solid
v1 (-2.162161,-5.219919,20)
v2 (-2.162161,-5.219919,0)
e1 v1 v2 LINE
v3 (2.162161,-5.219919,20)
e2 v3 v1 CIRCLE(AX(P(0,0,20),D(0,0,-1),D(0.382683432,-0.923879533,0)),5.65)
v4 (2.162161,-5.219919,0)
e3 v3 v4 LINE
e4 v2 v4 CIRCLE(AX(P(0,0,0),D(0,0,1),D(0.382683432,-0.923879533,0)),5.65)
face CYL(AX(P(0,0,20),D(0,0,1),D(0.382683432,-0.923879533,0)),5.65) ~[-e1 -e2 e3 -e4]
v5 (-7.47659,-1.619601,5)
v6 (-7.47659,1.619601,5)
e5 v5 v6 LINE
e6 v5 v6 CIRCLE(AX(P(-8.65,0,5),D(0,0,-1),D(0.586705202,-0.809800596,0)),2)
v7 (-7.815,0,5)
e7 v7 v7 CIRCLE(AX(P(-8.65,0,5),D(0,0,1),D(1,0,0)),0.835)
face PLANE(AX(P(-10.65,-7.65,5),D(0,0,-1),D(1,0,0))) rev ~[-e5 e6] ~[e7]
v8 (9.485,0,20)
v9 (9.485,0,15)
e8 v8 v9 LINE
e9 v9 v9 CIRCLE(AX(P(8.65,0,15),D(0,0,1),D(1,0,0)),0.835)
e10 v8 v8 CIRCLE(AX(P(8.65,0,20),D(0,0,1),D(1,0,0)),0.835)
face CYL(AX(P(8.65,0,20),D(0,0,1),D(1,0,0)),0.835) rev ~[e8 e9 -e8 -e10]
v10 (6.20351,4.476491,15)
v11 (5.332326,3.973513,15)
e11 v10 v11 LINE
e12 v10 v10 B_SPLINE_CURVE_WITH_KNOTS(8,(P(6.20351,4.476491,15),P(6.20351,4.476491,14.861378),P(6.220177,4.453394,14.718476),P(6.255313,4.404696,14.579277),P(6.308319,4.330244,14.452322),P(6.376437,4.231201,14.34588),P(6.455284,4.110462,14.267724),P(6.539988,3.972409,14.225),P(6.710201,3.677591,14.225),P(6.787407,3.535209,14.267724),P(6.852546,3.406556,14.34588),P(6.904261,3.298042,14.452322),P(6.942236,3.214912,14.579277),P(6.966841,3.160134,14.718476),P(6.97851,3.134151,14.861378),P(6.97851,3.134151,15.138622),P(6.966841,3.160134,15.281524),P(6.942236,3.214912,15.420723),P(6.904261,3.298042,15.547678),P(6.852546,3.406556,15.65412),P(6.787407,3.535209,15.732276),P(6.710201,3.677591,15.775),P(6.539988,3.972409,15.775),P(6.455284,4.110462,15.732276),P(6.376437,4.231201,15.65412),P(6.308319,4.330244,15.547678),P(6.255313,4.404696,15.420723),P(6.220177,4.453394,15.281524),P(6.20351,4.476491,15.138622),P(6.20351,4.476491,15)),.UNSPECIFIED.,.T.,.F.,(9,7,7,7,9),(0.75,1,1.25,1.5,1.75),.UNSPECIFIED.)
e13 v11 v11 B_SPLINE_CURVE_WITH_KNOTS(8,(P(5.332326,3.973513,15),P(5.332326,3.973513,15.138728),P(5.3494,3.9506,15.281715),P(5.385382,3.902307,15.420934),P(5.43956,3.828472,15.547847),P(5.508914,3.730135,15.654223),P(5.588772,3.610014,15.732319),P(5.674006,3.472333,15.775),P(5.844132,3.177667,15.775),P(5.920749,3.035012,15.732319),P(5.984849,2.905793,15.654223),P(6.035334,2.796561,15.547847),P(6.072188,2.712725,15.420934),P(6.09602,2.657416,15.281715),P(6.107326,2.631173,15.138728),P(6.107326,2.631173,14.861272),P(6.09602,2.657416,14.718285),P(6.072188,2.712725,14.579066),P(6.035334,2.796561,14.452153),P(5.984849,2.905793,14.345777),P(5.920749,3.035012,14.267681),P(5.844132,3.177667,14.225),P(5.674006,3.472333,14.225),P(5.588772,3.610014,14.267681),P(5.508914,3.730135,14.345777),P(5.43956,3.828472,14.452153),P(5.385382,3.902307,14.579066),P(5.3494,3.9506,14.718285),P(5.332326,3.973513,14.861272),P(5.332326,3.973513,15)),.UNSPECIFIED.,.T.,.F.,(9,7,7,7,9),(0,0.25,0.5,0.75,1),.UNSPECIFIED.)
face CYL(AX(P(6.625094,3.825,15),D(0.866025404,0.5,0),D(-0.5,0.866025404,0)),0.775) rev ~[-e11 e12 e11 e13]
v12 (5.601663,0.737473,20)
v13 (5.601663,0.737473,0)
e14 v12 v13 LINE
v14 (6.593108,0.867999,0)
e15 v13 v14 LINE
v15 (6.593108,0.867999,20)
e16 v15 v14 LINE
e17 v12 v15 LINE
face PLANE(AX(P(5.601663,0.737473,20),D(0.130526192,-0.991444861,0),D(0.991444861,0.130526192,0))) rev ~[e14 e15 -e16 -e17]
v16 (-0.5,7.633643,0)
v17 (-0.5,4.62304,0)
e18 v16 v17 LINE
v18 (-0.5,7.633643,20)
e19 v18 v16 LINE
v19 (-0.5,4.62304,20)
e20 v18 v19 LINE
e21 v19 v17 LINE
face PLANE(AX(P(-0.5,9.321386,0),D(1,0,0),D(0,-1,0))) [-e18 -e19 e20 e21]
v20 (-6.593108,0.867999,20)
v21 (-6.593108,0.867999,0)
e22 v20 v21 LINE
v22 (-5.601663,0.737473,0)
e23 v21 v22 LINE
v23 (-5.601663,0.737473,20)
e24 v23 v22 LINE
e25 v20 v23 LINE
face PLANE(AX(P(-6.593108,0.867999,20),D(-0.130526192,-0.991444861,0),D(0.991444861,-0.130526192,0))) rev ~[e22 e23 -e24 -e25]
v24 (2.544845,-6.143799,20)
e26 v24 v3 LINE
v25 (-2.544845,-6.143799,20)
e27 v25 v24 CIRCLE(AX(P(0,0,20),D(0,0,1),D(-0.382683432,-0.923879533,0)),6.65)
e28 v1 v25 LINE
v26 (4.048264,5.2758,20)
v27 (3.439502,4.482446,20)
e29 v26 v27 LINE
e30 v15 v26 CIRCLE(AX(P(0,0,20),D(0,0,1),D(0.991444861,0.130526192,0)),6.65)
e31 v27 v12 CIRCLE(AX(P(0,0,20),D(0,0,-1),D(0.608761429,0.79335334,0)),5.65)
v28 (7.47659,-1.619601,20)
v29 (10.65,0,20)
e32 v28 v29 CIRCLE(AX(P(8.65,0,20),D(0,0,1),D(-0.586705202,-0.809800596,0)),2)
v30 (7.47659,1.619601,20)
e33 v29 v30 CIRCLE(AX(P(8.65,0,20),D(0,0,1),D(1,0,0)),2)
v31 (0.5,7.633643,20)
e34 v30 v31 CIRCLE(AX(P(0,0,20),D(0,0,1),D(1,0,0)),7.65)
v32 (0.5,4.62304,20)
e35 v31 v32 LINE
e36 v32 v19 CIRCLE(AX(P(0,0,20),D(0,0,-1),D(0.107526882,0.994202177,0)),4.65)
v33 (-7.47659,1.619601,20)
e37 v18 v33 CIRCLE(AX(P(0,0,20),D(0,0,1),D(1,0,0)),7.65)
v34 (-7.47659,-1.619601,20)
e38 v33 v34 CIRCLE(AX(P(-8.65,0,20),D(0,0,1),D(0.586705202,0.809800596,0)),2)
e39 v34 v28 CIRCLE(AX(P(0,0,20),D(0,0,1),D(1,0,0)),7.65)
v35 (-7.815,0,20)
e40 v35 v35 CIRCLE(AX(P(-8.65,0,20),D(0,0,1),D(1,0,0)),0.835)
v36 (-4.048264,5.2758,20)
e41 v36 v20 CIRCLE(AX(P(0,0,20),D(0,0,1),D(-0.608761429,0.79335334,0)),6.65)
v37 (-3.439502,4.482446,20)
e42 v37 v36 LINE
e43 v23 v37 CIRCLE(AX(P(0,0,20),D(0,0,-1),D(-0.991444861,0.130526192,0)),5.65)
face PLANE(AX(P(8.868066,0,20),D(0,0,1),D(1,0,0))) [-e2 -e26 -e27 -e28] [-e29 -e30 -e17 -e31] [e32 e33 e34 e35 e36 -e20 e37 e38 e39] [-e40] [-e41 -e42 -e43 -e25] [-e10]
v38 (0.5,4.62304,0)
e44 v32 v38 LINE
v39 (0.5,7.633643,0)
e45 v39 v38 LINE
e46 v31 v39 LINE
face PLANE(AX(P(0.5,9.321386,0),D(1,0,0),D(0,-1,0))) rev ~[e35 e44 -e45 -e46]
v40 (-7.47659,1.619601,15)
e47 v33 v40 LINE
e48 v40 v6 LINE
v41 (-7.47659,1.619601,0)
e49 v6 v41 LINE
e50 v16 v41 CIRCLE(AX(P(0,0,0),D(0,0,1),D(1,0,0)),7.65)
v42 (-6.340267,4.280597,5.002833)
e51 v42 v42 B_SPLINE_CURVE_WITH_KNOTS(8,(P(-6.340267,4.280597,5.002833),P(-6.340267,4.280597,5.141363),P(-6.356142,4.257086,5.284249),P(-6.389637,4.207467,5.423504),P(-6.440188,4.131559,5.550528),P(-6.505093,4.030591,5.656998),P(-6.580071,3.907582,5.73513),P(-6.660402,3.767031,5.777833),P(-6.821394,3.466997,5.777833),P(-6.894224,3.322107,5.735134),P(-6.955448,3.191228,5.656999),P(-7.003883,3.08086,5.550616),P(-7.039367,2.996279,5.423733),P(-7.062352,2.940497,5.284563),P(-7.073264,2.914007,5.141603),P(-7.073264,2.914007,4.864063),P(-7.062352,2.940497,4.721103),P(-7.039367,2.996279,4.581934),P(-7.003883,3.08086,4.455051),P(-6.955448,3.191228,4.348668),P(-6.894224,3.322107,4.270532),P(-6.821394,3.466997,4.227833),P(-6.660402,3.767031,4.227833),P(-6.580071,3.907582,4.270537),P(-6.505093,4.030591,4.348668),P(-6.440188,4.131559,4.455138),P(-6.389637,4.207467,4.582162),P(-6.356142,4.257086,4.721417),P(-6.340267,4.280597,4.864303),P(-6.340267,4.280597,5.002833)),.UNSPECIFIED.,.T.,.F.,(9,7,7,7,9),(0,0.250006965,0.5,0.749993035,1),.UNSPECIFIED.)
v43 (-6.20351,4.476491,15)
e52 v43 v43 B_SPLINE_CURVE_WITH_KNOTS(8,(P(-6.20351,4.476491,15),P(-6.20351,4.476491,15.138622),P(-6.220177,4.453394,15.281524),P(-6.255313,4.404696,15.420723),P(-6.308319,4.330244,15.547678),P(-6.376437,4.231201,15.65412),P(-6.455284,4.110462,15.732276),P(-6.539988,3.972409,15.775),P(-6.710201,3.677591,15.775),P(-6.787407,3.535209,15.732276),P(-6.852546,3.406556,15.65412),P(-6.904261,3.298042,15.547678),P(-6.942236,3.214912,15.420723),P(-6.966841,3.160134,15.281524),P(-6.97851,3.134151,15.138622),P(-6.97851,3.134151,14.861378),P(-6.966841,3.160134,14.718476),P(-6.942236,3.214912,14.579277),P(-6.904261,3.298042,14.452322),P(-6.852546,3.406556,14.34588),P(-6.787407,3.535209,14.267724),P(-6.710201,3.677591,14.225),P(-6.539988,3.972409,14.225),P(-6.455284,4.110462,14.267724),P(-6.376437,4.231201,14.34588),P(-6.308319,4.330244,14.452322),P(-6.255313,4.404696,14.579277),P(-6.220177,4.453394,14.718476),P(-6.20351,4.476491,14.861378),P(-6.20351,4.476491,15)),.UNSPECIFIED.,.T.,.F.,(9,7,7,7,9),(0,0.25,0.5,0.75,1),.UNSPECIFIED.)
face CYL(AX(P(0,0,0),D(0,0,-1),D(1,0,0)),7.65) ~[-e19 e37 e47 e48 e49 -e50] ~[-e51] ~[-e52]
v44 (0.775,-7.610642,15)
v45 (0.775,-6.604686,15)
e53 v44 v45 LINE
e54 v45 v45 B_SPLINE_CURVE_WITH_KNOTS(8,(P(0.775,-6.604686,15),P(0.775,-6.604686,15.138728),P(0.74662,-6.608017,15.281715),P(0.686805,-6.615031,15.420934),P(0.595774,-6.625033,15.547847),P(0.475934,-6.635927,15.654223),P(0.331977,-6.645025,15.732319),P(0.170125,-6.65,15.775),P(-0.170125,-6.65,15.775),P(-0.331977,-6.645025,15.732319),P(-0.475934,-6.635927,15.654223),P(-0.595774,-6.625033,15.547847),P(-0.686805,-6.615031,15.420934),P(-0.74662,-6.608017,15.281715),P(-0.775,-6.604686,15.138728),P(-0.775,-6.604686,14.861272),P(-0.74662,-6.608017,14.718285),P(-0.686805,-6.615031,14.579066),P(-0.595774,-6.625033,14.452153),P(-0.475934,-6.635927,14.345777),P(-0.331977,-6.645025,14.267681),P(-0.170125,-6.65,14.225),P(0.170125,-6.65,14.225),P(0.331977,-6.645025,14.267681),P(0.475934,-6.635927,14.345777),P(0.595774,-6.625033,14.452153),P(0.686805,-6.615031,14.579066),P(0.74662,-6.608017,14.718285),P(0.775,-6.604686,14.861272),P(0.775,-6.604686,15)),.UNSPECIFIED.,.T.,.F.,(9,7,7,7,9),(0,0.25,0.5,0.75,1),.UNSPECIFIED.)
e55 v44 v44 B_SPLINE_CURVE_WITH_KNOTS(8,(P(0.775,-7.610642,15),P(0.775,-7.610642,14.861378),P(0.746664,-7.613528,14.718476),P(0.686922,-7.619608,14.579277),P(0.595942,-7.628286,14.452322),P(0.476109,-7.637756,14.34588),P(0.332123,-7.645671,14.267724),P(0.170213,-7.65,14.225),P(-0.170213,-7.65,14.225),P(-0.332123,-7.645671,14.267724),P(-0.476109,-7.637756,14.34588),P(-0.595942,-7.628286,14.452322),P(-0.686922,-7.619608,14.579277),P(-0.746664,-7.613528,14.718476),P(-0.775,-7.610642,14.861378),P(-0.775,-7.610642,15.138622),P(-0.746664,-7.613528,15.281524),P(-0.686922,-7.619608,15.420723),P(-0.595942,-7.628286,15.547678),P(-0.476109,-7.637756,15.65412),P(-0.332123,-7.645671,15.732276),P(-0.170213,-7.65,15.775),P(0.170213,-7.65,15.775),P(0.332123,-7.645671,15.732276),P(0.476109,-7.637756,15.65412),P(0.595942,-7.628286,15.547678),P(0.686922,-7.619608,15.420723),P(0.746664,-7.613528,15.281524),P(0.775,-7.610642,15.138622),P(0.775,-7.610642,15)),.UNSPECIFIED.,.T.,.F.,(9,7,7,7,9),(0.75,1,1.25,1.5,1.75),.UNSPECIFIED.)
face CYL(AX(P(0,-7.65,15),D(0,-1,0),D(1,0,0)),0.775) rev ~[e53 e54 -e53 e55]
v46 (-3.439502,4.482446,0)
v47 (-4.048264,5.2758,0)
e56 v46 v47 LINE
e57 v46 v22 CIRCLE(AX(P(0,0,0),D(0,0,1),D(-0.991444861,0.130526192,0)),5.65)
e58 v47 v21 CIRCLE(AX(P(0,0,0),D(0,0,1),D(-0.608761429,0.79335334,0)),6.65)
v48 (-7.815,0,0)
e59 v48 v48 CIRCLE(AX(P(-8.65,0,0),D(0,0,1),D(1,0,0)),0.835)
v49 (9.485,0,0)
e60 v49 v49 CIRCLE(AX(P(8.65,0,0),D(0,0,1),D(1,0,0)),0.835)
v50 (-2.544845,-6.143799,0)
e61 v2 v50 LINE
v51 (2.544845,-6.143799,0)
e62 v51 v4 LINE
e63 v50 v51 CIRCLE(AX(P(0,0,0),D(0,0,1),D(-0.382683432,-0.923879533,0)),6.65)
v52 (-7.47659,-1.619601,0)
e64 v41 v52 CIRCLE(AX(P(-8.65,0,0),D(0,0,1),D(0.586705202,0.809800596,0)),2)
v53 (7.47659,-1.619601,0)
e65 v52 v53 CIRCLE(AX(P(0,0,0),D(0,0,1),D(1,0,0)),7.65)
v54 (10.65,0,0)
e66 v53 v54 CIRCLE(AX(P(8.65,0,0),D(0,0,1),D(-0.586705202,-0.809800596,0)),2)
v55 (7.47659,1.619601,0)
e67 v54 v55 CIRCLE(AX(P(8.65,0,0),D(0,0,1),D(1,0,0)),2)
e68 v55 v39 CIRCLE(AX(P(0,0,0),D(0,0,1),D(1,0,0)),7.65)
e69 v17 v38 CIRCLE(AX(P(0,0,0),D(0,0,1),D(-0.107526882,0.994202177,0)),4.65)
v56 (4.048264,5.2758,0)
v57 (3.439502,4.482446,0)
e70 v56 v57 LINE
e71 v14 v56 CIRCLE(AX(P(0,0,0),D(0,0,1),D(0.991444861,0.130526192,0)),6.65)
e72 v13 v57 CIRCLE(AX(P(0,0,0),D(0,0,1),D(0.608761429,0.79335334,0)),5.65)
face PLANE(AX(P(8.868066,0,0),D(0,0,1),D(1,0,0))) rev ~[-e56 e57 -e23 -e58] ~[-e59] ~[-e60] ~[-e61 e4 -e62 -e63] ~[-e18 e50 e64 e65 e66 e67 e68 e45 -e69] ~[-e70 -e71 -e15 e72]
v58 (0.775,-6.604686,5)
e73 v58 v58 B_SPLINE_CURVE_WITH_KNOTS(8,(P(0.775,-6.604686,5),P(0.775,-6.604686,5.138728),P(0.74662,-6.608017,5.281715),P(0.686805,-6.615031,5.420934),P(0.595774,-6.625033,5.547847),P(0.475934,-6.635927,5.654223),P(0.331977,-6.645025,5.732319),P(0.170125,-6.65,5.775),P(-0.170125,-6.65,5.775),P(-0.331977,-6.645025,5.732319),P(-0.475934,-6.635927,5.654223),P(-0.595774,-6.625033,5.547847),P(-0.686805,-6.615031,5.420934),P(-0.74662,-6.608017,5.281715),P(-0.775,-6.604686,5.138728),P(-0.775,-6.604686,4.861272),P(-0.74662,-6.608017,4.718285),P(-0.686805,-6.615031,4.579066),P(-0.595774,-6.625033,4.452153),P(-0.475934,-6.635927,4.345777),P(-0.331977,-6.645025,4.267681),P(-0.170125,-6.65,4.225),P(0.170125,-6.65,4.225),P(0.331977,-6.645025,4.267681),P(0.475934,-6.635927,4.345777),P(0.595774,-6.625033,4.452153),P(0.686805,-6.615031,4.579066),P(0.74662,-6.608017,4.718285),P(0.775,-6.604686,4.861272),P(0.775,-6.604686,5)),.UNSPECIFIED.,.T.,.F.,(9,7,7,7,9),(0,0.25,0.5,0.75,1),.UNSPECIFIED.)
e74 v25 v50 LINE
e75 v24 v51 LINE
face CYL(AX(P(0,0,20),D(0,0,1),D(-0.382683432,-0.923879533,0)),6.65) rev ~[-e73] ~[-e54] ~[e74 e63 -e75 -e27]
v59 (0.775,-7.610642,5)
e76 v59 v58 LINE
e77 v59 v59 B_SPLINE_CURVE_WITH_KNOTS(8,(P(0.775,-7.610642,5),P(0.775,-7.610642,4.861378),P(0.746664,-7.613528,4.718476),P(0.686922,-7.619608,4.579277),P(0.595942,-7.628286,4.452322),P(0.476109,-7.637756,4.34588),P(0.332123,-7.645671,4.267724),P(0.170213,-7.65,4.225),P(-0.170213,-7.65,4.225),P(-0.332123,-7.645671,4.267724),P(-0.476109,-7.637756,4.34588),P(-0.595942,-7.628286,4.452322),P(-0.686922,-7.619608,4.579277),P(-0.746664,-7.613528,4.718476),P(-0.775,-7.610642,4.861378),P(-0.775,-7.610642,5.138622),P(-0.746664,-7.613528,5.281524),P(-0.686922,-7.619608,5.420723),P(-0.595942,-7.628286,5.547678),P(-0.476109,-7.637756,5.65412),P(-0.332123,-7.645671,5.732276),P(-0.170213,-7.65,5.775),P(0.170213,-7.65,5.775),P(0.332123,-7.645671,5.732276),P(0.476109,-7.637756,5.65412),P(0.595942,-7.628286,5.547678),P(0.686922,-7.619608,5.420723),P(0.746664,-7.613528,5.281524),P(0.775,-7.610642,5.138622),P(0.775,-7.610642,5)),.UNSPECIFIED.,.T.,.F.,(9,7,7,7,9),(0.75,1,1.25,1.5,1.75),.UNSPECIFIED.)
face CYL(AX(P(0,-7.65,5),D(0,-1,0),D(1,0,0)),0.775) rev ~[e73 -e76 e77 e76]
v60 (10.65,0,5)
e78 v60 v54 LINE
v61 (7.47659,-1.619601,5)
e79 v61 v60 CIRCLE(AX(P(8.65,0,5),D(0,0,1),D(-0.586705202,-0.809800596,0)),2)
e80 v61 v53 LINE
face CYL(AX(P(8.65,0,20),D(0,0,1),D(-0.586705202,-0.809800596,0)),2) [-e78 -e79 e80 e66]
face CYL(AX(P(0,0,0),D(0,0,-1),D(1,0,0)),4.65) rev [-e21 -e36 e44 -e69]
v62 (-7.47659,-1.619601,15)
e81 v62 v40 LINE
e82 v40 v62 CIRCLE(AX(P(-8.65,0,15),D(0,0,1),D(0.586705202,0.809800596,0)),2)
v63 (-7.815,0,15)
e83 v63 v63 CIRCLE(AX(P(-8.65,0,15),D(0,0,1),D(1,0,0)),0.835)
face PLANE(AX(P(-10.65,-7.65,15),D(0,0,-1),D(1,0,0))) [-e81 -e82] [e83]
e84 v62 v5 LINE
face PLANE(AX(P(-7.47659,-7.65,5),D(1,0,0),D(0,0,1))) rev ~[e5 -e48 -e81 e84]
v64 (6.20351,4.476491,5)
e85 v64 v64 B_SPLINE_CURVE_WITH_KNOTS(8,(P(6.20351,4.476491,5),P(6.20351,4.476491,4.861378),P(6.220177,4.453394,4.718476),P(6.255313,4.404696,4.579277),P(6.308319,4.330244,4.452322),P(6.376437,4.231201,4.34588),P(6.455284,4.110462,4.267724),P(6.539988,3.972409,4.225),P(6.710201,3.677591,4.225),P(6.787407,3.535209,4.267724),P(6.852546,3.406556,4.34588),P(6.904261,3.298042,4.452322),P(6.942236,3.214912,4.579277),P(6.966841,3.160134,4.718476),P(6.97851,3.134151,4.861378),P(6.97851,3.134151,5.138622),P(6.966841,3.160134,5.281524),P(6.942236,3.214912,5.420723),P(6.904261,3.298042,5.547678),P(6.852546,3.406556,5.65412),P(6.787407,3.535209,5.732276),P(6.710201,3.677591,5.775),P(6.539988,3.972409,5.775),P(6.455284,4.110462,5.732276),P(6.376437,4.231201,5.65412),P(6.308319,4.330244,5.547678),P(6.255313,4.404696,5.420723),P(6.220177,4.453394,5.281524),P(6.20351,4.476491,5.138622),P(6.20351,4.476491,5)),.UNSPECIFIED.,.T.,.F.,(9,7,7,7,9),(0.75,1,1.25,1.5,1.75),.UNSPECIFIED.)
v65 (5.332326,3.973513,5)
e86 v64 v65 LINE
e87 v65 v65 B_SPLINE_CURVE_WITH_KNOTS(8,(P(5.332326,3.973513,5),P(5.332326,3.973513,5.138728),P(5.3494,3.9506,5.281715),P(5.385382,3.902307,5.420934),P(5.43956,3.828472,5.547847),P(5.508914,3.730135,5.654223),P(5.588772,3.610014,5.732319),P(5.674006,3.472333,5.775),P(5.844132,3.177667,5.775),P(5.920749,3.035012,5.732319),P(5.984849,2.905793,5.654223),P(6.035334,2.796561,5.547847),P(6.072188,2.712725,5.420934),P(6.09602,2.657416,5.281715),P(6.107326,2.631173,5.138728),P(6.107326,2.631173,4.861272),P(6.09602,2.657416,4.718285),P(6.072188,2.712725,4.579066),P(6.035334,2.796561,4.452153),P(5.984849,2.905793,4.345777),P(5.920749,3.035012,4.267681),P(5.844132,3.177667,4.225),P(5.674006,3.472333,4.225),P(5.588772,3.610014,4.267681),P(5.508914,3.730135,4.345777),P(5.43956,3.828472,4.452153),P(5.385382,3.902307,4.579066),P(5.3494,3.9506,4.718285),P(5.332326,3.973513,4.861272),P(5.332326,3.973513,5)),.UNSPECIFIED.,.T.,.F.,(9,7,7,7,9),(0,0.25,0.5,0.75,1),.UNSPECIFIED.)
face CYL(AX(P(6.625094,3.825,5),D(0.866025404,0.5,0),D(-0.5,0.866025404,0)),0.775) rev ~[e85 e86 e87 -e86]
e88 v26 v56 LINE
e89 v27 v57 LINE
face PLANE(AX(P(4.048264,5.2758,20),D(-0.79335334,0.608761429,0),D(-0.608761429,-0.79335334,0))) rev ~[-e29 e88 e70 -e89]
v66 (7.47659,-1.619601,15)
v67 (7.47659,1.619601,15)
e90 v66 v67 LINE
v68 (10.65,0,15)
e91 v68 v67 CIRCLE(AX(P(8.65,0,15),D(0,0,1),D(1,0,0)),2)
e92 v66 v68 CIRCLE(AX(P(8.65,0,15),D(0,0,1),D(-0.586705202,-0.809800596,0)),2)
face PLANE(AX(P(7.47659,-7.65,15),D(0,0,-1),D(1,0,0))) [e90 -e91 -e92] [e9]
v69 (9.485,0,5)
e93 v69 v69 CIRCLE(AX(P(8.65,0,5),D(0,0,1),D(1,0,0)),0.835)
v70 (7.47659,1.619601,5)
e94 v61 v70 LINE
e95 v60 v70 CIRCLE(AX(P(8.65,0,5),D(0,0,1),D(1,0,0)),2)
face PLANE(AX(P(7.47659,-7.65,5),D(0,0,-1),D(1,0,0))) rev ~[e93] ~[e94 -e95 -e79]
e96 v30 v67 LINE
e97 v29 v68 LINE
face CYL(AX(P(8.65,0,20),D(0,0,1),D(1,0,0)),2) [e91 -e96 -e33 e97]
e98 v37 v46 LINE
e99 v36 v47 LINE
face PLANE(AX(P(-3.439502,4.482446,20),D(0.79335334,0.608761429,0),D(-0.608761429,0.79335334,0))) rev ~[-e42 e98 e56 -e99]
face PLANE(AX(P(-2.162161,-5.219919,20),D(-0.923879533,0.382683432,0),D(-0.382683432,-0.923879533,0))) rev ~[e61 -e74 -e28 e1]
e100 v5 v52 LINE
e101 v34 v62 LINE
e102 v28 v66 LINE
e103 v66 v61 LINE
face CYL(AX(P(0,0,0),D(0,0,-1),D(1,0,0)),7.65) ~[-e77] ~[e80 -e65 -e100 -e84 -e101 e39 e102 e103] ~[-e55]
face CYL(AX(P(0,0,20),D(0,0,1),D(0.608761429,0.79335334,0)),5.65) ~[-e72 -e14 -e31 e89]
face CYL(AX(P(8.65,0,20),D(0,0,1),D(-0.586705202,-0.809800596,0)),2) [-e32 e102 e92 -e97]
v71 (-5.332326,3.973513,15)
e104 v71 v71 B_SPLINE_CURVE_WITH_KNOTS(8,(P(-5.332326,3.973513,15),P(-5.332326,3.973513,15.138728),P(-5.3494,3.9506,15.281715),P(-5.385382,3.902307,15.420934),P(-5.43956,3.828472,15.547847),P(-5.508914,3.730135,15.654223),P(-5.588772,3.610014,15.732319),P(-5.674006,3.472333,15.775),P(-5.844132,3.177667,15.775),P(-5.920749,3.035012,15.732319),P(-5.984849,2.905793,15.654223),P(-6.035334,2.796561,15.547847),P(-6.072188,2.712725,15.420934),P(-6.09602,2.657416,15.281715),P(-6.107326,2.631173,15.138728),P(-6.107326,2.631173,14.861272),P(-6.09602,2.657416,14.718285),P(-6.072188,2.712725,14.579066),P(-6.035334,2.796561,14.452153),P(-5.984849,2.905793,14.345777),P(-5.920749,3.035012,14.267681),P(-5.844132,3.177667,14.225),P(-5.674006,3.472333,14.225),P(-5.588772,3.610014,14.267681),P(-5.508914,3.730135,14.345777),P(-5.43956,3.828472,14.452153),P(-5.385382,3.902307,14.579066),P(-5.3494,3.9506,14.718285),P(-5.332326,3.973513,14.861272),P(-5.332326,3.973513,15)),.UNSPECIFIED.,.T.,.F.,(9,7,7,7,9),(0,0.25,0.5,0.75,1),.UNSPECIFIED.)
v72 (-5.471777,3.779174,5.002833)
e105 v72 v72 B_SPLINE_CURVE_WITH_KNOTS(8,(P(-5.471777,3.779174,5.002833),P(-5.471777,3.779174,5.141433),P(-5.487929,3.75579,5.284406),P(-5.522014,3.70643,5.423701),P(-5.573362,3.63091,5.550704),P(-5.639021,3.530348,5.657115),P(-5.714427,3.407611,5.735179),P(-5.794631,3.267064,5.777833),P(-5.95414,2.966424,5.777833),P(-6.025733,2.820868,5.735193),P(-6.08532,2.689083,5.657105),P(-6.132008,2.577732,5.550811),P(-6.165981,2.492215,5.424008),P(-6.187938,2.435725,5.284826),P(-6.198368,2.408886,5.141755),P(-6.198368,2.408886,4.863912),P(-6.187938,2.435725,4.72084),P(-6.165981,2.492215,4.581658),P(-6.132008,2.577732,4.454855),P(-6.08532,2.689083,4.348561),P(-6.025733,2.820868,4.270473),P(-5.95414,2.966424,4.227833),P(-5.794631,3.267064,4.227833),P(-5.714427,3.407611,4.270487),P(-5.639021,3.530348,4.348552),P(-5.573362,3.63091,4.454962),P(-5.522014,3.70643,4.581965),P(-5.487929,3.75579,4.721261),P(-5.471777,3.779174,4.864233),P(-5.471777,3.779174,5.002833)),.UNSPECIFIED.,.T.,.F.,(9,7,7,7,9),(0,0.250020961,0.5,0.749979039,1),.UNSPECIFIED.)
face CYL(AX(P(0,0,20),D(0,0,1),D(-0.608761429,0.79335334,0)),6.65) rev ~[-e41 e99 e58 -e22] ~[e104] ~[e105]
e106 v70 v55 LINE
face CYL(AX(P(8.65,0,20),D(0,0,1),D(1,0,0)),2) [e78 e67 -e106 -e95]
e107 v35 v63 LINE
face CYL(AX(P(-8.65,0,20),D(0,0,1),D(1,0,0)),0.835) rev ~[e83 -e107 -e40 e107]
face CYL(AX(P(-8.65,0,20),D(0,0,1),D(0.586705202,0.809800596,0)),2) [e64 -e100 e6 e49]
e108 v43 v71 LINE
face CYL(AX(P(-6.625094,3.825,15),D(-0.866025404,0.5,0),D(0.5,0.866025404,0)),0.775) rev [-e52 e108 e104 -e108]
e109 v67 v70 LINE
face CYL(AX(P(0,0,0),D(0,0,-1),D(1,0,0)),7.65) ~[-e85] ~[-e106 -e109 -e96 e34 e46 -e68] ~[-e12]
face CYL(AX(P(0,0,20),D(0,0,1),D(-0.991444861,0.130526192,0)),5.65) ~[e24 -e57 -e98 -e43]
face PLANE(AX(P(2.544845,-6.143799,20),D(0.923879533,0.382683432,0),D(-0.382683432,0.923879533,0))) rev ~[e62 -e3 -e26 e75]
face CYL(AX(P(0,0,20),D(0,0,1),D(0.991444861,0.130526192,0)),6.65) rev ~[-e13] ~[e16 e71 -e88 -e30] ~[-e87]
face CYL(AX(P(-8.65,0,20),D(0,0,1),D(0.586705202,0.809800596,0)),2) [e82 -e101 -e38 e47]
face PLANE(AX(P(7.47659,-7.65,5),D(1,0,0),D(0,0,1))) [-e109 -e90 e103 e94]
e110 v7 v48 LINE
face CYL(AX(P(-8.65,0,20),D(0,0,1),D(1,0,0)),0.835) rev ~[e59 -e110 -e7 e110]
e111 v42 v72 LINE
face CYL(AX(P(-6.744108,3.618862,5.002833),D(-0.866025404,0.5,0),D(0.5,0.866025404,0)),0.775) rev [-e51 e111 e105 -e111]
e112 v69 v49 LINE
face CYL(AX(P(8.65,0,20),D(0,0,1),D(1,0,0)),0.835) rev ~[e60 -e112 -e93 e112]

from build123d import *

# Parameters (mm, degrees)
F0_R      = 7.65
F0_R_2    = 4.65
F1_DEPTH  = 20
F4_DEPTH  = 20.001
F6_R      = 0.775
F7_DEPTH  = 1.0786128078
F9_R      = 0.775
F10_DEPTH = 1.0463142634
F12_R     = 0.775
F13_DEPTH = 1.0463142634
F14_W     = 1
F14_H     = 5.2947397344
F15_DEPTH = 20
F16_R     = 0.835
F17_DEPTH = 20
F18_W     = 3.1734104046
F18_H     = 10
F19_DEPTH = 15.2846427429


with BuildPart() as f1:
    # F0 (on Top) → F1 (new body)
    with BuildSketch(Plane.XY):
        Circle(F0_R)
        Circle(F0_R_2, mode=Mode.SUBTRACT)
    extrude(amount=F1_DEPTH)

    # F2 (on face) → F4 (cut, through all)
    with BuildSketch(Plane.XY.offset(20)):
        with BuildLine():
            Line((-3.4395020739, 4.4824463726), (-4.0482635029, 5.2757997129))
            ThreePointArc((-4.0482635029, 5.2757997129), (-5.7590689352, 3.325), (-6.5931083281, 0.8679991783))
            Line((-6.5931083281, 0.8679991783), (-5.6016634668, 0.737472986))
            ThreePointArc((-5.6016634668, 0.737472986), (-4.8930435314, 2.825), (-3.4395020739, 4.4824463726))
        make_face()
        with BuildLine():
            Line((4.0482635029, 5.2757997129), (3.4395020739, 4.4824463726))
            ThreePointArc((3.4395020739, 4.4824463726), (4.8930435314, 2.825), (5.6016634668, 0.737472986))
            Line((5.6016634668, 0.737472986), (6.5931083281, 0.8679991783))
            ThreePointArc((6.5931083281, 0.8679991783), (5.7590689352, 3.325), (4.0482635029, 5.2757997129))
        make_face()
        with BuildLine():
            ThreePointArc((2.1621613929, -5.2199193587), (0, -5.65), (-2.1621613929, -5.2199193587))
            Line((-2.1621613929, -5.2199193587), (-2.5448448252, -6.1437988912))
            ThreePointArc((-2.5448448252, -6.1437988912), (0, -6.65), (2.5448448252, -6.1437988912))
            Line((2.5448448252, -6.1437988912), (2.1621613929, -5.2199193587))
        make_face()
    extrude(amount=-F4_DEPTH, mode=Mode.SUBTRACT)

    # F6 (on line) → F7 (cut, through all)
    with BuildSketch(Plane(origin=(-6.625094339, 3.825, 0), x_dir=(0.5, 0.8660254038, 0), z_dir=(0.8660254038, -0.5, 0))):
        with Locations((0, 15)):
            Circle(F6_R)
        with Locations((-0.2380277795, 5.0028332626)):
            Circle(F6_R)
    extrude(amount=F7_DEPTH, mode=Mode.SUBTRACT)

    # F9 (on line) → F10 (cut, through all)
    with BuildSketch(Plane.XZ.offset(7.65)):
        with Locations((0, 5)):
            Circle(F9_R)
        with Locations((0, 15)):
            Circle(F9_R)
    extrude(amount=-F10_DEPTH, mode=Mode.SUBTRACT)

    # F12 (on line) → F13 (cut, through all)
    with BuildSketch(Plane(origin=(6.625094339, 3.825, 0), x_dir=(-0.5, 0.8660254038, 0), z_dir=(0.8660254038, 0.5, 0))):
        with Locations((0, 5)):
            Circle(F12_R)
        with Locations((0, 15)):
            Circle(F12_R)
    extrude(amount=-F13_DEPTH, mode=Mode.SUBTRACT)

    # F14 (on face) → F15 (cut, through all)
    with BuildSketch(Plane(origin=(0, 0, 0), x_dir=(1, 0, 0), z_dir=(0, 0, -1))):
        with Locations((0, -6.6740161274)):
            Rectangle(F14_W, F14_H)
    extrude(amount=-F15_DEPTH, mode=Mode.SUBTRACT)

    # F16 (on face) → F17 (join, through all)
    with BuildSketch(Plane.XY.offset(20)):
        with BuildLine():
            ThreePointArc((-7.4765895954, -1.6196011924), (-7.65, 0), (-7.4765895954, 1.6196011924))
            ThreePointArc((-7.4765895954, 1.6196011924), (-10.65, 0), (-7.4765895954, -1.6196011924))
        make_face()
        with Locations((-8.65, 0)):
            Circle(F16_R, mode=Mode.SUBTRACT)
        with BuildLine():
            ThreePointArc((7.4765895954, -1.6196011924), (9.5591697286, -1.7814068611), (10.65, 0))
            ThreePointArc((10.65, 0), (9.5591697286, 1.7814068611), (7.4765895954, 1.6196011924))
            ThreePointArc((7.4765895954, 1.6196011924), (7.606523858, 0.8144291238), (7.65, 0))
            ThreePointArc((7.65, 0), (7.606523858, -0.8144291238), (7.4765895954, -1.6196011924))
        make_face()
        with Locations((8.65, 0)):
            Circle(F16_R, mode=Mode.SUBTRACT)
    extrude(amount=-F17_DEPTH)

    # F18 (on line) → F19 (cut, through all)
    with BuildSketch(Plane.XZ.offset(7.65)):
        with Locations((-9.0632947977, 10)):
            Rectangle(F18_W, F18_H)
        with Locations((9.0632947977, 10)):
            Rectangle(F18_W, F18_H)
    extrude(amount=-F19_DEPTH, mode=Mode.SUBTRACT)


solid = f1.part
